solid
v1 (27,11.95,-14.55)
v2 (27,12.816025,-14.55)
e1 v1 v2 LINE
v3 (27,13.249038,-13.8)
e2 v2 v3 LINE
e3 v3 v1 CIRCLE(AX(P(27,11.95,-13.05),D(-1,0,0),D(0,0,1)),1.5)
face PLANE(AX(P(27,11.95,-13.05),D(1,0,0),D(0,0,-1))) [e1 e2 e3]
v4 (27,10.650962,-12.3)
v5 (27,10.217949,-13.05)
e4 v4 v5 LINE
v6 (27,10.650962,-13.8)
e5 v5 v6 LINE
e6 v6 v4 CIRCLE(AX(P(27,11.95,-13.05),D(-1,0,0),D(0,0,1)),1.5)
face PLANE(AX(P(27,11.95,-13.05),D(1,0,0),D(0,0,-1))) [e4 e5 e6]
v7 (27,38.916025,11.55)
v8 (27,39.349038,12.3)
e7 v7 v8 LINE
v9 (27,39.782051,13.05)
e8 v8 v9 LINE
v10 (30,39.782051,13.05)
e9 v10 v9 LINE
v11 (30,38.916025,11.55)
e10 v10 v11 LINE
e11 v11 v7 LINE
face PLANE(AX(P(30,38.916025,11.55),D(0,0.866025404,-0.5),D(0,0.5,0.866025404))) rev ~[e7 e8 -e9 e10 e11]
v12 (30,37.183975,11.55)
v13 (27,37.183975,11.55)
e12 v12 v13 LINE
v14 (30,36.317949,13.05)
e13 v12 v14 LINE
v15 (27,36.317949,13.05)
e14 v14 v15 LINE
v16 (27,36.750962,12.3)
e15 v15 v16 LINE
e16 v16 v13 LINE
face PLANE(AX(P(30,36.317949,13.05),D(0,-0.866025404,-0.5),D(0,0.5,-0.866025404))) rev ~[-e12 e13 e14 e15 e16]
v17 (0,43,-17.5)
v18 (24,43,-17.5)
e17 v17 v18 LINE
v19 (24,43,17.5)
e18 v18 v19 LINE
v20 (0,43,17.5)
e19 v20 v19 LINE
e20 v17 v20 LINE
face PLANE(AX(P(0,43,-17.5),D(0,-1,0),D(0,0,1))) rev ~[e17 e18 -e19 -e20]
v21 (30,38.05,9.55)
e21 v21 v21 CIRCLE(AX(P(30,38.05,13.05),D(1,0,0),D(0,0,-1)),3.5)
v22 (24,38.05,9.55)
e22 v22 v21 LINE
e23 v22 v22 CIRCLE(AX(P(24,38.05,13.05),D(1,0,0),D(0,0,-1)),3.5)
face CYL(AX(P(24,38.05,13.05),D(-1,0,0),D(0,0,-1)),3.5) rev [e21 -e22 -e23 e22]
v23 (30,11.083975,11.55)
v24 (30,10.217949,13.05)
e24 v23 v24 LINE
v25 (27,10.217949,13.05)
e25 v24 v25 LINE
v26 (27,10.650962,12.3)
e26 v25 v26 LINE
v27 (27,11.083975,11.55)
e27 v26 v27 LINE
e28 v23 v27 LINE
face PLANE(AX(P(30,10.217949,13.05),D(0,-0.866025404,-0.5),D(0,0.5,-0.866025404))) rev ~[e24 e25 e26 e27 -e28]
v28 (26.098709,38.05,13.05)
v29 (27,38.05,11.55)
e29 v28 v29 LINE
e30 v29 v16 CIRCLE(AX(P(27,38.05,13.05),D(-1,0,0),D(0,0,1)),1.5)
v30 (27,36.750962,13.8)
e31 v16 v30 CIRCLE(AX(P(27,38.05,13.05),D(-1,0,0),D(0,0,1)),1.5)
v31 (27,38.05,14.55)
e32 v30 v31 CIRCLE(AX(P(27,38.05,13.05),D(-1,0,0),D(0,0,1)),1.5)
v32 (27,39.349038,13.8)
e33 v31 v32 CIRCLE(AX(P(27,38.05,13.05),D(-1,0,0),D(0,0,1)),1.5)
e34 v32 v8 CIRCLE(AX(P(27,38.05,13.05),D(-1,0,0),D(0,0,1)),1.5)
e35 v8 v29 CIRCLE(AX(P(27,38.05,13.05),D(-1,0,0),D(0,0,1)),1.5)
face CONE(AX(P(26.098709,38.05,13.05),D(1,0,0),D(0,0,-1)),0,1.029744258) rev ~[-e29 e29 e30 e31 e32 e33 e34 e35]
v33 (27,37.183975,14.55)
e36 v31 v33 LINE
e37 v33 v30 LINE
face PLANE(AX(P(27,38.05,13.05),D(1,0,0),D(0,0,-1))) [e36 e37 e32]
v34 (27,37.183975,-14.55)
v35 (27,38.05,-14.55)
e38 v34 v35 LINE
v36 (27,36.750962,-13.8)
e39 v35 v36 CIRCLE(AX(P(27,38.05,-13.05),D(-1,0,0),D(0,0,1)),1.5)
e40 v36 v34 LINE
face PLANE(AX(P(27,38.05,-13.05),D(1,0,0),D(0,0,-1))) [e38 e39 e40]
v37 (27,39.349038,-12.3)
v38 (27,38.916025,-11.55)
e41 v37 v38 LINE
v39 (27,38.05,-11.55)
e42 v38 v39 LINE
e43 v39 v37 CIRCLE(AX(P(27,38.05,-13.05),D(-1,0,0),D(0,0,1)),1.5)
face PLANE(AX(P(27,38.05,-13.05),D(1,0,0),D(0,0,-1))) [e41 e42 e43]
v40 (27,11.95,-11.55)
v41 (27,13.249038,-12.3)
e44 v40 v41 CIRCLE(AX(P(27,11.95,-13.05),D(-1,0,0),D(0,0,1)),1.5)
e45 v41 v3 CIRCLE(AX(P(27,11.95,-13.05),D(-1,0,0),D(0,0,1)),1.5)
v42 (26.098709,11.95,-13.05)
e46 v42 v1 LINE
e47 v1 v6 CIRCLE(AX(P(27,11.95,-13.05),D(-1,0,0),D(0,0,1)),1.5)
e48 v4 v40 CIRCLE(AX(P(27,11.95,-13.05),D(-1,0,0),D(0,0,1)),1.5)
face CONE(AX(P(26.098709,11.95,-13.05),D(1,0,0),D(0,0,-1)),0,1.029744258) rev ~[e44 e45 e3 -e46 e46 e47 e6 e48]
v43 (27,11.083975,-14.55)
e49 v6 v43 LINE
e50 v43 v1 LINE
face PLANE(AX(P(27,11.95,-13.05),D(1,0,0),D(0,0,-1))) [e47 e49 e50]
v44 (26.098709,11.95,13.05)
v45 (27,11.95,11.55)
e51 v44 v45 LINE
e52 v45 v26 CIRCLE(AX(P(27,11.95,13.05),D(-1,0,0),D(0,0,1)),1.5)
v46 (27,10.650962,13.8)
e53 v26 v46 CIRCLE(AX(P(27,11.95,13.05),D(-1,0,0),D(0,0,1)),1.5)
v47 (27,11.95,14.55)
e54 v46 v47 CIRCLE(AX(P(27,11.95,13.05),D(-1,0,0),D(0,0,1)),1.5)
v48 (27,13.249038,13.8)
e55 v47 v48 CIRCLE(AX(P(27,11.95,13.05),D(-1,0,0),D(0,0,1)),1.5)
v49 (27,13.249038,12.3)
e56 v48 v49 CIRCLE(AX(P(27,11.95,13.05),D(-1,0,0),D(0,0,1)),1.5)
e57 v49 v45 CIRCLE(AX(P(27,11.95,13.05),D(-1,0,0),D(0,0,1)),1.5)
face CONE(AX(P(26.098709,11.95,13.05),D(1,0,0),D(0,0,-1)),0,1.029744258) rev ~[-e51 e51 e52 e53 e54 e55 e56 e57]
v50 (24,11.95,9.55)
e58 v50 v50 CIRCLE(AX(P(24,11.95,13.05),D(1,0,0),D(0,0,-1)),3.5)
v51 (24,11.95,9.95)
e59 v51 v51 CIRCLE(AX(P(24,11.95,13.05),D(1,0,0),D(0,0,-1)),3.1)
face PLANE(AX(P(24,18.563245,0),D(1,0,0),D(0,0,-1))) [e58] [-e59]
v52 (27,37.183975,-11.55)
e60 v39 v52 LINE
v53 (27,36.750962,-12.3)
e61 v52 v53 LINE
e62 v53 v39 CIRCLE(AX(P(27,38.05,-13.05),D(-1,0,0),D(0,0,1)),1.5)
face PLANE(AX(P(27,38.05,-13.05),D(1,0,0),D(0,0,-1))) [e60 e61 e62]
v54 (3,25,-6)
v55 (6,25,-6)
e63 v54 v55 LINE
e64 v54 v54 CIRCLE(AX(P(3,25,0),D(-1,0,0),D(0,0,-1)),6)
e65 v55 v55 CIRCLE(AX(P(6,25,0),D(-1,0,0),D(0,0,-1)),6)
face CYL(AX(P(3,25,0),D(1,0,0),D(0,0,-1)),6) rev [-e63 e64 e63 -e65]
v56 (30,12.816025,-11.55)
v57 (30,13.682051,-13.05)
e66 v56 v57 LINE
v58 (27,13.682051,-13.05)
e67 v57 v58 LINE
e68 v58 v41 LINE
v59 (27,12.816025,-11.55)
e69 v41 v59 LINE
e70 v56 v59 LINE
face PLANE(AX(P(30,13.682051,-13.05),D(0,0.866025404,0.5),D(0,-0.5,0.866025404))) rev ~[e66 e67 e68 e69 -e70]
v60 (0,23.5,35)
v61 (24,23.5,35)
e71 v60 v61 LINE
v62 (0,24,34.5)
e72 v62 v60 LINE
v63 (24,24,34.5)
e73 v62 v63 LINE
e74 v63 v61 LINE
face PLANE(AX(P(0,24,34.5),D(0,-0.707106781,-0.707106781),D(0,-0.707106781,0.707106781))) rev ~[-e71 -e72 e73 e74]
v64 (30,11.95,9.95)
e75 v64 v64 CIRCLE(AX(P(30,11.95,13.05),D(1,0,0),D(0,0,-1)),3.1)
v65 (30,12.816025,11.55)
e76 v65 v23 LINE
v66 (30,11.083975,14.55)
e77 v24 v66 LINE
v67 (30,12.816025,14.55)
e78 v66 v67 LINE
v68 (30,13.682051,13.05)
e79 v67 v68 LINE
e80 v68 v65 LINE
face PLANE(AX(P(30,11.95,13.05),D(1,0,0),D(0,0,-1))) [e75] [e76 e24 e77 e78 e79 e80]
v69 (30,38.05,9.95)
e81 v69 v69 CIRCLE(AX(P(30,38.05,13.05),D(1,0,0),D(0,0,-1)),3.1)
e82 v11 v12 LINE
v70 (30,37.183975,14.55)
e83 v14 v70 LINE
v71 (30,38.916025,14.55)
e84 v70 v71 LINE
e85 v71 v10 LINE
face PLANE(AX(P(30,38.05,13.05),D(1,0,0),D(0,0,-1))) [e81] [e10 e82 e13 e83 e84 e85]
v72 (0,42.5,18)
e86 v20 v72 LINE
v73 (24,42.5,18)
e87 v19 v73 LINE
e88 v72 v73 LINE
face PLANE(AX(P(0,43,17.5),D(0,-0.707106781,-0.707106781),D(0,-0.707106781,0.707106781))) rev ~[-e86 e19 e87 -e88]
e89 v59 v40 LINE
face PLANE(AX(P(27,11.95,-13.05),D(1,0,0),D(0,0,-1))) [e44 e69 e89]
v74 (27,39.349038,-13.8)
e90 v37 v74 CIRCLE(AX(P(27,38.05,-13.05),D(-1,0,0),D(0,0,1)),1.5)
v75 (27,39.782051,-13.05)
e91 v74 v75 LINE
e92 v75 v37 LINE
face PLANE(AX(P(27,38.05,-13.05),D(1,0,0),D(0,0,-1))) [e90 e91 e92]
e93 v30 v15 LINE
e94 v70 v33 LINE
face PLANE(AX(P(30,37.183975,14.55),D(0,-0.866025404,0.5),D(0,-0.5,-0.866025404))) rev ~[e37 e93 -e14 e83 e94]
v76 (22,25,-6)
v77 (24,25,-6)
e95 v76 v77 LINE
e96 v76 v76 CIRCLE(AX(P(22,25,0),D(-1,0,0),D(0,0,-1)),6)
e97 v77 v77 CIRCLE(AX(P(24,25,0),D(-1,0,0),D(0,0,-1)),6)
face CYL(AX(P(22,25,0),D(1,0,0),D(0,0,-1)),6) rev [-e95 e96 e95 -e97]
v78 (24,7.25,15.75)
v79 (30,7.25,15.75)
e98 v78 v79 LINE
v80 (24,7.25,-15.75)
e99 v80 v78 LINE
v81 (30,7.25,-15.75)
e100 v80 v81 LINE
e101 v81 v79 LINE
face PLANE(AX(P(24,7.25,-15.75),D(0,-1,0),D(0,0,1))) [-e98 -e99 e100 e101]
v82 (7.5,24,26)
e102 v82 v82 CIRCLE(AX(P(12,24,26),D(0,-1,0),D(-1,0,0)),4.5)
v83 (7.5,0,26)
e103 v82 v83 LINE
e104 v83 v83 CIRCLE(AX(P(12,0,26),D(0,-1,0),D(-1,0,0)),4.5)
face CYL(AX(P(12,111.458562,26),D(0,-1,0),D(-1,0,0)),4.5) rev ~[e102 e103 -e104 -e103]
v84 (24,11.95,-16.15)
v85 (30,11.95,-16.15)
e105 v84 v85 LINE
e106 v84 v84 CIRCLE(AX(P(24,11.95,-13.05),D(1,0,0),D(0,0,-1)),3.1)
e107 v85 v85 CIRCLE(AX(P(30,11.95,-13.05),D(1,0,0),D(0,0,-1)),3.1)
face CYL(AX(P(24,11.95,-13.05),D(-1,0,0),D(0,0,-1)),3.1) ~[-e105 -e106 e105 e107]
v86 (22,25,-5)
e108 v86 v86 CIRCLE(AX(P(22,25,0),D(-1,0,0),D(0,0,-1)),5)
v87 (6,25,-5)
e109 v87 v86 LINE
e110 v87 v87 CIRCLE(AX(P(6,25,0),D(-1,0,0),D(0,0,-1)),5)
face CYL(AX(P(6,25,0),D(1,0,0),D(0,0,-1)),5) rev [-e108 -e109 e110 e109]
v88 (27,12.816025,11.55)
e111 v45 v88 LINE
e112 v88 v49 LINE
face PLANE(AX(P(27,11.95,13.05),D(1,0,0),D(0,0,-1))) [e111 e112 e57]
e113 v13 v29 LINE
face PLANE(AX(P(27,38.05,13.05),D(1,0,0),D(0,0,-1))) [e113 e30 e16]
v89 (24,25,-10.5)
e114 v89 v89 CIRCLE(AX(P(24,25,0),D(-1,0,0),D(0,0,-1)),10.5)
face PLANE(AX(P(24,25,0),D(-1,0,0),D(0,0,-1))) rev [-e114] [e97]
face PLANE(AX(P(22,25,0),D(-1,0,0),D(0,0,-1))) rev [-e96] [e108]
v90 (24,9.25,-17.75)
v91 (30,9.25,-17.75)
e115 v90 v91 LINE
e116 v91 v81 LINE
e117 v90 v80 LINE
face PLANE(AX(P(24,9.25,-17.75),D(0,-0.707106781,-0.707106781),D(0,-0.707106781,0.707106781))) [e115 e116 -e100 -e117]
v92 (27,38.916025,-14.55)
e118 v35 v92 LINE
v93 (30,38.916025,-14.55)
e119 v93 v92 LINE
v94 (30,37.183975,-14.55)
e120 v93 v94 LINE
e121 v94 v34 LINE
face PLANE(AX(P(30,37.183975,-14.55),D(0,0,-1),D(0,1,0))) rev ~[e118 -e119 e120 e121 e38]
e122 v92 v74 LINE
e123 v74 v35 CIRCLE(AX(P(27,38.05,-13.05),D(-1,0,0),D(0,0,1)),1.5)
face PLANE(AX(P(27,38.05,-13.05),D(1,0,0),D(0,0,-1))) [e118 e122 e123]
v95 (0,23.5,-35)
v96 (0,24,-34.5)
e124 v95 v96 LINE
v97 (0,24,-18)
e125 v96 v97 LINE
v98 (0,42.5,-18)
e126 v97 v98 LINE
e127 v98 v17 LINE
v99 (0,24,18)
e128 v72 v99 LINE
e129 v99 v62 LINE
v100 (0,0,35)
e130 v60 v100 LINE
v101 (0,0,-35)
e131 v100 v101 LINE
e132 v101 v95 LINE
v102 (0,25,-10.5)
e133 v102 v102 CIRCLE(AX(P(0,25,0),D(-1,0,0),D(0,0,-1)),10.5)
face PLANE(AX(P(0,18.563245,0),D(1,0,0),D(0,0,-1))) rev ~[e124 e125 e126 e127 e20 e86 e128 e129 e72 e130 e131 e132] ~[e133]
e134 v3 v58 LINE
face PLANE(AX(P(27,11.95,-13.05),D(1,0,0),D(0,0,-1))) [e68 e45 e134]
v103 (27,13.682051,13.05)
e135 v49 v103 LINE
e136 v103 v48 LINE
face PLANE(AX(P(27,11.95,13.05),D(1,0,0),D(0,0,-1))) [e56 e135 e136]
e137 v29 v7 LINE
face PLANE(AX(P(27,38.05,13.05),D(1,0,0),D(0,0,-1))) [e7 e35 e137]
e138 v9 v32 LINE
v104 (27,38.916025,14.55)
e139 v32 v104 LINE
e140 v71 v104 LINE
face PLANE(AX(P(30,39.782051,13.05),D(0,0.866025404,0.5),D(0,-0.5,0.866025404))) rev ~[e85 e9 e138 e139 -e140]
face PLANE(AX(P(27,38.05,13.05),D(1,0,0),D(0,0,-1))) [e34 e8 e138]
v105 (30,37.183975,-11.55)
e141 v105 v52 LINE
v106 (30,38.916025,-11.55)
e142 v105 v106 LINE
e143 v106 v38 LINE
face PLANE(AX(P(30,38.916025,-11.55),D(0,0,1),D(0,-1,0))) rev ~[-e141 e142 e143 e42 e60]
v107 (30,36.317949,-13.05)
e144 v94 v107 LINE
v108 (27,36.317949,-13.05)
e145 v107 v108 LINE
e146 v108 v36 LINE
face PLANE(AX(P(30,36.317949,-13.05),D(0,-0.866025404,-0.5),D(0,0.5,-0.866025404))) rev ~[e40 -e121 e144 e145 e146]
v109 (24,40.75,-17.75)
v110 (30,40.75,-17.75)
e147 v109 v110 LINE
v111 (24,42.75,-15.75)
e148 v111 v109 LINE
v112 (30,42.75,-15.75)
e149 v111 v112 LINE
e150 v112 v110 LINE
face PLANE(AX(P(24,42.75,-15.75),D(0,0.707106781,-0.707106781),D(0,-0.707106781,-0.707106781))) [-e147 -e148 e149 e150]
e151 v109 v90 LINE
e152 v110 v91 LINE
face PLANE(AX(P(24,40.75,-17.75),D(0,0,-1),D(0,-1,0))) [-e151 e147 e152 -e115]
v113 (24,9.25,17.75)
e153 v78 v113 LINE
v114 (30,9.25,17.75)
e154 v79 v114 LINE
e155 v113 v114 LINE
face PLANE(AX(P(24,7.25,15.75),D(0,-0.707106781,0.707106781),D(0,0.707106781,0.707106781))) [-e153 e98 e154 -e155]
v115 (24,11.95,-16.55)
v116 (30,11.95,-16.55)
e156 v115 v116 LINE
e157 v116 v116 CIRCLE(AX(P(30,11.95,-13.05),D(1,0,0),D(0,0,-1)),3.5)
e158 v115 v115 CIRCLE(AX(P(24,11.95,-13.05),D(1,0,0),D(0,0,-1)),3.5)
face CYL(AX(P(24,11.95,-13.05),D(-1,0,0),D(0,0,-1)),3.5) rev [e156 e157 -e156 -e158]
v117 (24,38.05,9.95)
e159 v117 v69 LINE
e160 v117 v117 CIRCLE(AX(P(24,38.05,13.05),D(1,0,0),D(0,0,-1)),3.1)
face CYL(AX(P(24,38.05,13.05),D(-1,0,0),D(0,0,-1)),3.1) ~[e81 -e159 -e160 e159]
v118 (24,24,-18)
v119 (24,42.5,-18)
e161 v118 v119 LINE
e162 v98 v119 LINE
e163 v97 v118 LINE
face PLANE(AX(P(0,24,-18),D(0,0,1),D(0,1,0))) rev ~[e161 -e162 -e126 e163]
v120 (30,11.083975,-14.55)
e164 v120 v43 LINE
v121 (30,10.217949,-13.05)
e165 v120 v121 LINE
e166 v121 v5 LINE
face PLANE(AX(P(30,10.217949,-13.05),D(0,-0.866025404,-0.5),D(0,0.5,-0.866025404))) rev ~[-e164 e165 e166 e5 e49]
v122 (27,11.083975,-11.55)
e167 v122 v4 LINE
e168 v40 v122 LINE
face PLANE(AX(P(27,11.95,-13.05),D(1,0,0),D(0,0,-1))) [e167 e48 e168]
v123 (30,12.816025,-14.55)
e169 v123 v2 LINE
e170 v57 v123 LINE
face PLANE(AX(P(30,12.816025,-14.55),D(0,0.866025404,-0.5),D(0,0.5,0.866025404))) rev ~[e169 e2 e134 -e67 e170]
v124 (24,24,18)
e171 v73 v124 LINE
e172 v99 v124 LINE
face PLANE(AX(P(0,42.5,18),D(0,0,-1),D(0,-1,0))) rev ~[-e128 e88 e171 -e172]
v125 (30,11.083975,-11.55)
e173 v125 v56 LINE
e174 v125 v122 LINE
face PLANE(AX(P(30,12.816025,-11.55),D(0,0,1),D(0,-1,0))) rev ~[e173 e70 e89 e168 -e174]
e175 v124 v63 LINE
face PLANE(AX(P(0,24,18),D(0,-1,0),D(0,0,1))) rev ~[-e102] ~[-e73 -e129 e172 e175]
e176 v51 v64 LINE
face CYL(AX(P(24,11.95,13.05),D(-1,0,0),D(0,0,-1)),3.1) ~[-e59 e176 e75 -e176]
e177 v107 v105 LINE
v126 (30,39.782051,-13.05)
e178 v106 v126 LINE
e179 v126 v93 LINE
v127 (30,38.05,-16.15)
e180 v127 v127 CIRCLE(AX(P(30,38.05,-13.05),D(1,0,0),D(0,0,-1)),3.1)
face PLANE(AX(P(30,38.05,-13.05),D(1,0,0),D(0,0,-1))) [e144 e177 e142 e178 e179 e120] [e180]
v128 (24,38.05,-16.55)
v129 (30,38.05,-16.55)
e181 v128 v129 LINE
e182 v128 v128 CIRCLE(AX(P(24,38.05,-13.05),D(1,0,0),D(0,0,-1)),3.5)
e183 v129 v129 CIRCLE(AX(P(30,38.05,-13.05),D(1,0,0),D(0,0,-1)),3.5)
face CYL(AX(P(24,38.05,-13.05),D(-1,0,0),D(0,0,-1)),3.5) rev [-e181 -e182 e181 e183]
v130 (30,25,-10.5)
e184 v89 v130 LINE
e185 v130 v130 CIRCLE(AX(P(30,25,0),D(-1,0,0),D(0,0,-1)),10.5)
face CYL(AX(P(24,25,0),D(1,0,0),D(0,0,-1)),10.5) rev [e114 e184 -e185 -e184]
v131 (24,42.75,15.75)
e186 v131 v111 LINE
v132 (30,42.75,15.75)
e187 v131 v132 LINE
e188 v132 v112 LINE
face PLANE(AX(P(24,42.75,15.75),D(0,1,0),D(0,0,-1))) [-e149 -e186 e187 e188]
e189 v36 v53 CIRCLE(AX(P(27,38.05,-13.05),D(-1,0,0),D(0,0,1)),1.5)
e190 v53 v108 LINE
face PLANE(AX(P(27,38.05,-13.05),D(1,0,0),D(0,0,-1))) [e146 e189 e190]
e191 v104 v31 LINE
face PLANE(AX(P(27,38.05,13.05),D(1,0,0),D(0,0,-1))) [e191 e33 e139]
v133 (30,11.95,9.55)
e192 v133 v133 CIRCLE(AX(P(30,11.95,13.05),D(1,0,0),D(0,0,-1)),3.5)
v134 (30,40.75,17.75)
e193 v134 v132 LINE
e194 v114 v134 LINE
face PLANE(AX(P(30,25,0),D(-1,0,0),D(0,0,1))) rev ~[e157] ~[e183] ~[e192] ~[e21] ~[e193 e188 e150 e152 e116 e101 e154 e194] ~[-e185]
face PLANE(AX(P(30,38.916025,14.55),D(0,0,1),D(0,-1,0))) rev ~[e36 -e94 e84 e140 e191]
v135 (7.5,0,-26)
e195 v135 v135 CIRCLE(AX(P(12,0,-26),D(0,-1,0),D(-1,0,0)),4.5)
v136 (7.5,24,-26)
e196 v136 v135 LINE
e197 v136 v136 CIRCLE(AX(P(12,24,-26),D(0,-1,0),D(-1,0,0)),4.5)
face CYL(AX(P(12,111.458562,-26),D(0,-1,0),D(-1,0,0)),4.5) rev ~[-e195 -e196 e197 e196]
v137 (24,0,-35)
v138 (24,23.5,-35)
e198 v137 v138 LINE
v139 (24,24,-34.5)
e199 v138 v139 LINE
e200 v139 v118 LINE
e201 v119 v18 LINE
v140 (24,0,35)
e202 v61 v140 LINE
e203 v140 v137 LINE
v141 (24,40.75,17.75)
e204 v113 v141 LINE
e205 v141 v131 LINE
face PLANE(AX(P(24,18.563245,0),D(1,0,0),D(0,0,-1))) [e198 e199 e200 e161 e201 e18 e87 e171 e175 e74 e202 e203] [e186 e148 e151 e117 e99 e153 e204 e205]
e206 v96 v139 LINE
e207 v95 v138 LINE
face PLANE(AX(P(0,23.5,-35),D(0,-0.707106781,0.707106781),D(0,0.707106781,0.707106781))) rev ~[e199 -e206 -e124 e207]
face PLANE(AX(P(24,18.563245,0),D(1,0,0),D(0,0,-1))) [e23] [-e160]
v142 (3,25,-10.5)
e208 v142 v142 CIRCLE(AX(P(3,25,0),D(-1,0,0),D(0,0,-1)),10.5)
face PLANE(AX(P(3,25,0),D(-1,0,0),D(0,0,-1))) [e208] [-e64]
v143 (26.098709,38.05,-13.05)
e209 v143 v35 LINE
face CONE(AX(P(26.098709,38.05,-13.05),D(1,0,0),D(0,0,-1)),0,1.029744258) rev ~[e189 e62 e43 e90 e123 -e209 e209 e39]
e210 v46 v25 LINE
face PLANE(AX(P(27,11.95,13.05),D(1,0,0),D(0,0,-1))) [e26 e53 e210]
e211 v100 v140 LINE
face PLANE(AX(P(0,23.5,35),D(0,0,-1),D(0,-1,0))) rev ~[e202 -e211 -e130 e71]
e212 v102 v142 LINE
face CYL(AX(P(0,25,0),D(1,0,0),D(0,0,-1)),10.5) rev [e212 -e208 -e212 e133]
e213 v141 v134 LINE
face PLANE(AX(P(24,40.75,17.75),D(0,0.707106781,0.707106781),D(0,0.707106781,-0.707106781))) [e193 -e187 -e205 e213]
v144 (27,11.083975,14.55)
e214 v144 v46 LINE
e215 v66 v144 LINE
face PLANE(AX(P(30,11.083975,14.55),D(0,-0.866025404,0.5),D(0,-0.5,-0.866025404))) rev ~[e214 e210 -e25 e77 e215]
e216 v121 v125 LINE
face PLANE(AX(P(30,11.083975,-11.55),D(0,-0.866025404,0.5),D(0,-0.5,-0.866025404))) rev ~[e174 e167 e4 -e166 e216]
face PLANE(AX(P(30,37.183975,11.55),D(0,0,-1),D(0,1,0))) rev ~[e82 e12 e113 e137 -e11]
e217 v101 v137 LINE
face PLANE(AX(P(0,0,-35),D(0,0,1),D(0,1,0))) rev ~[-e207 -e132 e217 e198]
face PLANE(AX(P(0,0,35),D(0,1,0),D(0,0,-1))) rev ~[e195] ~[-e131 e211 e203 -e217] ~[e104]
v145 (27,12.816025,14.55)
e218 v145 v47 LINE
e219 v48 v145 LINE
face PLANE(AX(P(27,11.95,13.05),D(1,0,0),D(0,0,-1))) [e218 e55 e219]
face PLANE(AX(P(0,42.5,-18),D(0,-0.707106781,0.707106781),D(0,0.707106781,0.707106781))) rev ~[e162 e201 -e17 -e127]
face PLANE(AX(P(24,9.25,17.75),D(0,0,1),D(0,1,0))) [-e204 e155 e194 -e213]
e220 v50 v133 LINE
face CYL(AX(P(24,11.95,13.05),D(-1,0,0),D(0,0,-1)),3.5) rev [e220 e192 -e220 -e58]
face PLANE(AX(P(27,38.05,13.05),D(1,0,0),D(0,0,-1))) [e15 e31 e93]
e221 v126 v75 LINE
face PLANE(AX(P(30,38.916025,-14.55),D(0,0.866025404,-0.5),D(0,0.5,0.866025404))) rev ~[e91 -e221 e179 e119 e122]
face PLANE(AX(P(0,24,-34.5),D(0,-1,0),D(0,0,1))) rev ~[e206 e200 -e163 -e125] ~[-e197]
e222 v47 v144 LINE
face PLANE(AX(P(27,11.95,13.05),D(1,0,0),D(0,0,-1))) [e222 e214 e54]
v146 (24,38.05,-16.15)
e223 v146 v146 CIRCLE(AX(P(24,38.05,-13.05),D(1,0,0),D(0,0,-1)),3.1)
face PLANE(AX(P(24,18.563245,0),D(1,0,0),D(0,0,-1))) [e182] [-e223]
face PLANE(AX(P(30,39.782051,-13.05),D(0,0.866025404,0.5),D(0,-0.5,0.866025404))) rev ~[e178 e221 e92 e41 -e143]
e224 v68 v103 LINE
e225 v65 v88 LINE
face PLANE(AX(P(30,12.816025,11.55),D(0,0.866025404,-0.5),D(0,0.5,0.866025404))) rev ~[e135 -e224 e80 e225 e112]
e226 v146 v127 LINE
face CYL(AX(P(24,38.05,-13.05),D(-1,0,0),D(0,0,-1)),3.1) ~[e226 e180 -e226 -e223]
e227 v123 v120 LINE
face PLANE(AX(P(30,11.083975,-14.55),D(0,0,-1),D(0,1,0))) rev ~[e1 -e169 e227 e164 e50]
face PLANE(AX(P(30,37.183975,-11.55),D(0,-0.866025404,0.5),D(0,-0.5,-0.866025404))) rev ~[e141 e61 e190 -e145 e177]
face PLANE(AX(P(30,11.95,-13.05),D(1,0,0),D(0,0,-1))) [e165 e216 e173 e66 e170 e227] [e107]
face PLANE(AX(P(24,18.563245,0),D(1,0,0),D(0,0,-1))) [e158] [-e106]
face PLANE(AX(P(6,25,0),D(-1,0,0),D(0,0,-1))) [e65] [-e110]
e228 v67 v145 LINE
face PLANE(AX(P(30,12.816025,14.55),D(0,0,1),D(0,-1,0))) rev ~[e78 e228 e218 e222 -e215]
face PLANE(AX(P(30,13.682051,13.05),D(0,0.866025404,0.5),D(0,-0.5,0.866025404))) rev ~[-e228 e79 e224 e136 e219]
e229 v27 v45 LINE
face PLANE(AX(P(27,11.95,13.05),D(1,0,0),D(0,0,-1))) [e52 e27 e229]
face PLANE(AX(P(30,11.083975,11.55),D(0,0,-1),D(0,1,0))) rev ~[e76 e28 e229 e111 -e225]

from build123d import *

# Parameters (mm, degrees)
BOSS_EXTRUDE1_DEPTH = 24
SKETCH4_R           = 3.5
BOSS_EXTRUDE2_DEPTH = 6
SKETCH5_R           = 3.1
BOSS_EXTRUDE3_DEPTH = 6
DIAMETERHOLE1_D     = 3
DIAMETERHOLE1_DEPTH = 3
DIAMETERHOLE1_TIP   = 0.901290929
CUT_EXTRUDE1_DEPTH  = 3
DIAMETERHOLE3_D     = 9


with BuildPart() as part:
    # Sketch1 → Boss-Extrude1 (new body)
    with BuildSketch(Plane(origin=(0, 0, 0), x_dir=(0, 0, -1), z_dir=(1, 0, 0))):
        Polygon((-18, 42.5), (-18, 24), (-34.5, 24), (-35, 23.5), (-35, 0), (35, 0), (35, 23.5), (34.5, 24), (18, 24), (18, 42.5), (17.5, 43), (-17.5, 43), align=None)
    extrude(amount=BOSS_EXTRUDE1_DEPTH)

    # Sketch4 → Boss-Extrude2 (add)
    with BuildSketch(Plane(origin=(24, 0, 0), x_dir=(0, 0, -1), z_dir=(1, 0, 0))):
        Polygon((-17.75, 40.75), (-15.75, 42.75), (15.75, 42.75), (17.75, 40.75), (17.75, 9.25), (15.75, 7.25), (-15.75, 7.25), (-17.75, 9.25), align=None)
        with Locations((-13.05, 38.05)):
            Circle(SKETCH4_R, mode=Mode.SUBTRACT)
        with Locations((13.05, 38.05)):
            Circle(SKETCH4_R, mode=Mode.SUBTRACT)
        with Locations((-13.05, 11.95)):
            Circle(SKETCH4_R, mode=Mode.SUBTRACT)
        with Locations((13.05, 11.95)):
            Circle(SKETCH4_R, mode=Mode.SUBTRACT)
    extrude(amount=BOSS_EXTRUDE2_DEPTH)

    # Sketch5 → Boss-Extrude3 (add)
    with BuildSketch(Plane(origin=(24, 0, 0), x_dir=(0, 0, -1), z_dir=(1, 0, 0))):
        with Locations((-13.05, 38.05)):
            Circle(SKETCH5_R)
        with Locations((13.05, 38.05)):
            Circle(SKETCH5_R)
        with Locations((13.05, 11.95)):
            Circle(SKETCH5_R)
        with Locations((-13.05, 11.95)):
            Circle(SKETCH5_R)
    extrude(amount=BOSS_EXTRUDE3_DEPTH)

    # DiameterHole1
    with Locations(Plane(origin=(30, 0, 0), x_dir=(0, 0, -1), z_dir=(1, 0, 0))):
        with Locations((-13.05, 38.05), (13.05, 38.05), (-13.05, 11.95), (13.05, 11.95)):
            Hole(DIAMETERHOLE1_D / 2, depth=DIAMETERHOLE1_DEPTH)
            with Locations((0, 0, -(DIAMETERHOLE1_DEPTH + DIAMETERHOLE1_TIP / 2))):  # 118° drill point
                Cone(0, DIAMETERHOLE1_D / 2, DIAMETERHOLE1_TIP, mode=Mode.SUBTRACT)

    # Sketch8 → Cut-Extrude1 (cut)
    with BuildSketch(Plane(origin=(30, 0, 0), x_dir=(0, 0, -1), z_dir=(1, 0, 0))):
        Polygon((-13.05, 36.317949192), (-11.55, 37.183974596), (-11.55, 38.916025404), (-13.05, 39.782050808), (-14.55, 38.916025404), (-14.55, 37.183974596), align=None)
        Polygon((14.55, 37.183974596), (14.55, 38.916025404), (13.05, 39.782050808), (11.55, 38.916025404), (11.55, 37.183974596), (13.05, 36.317949192), align=None)
        Polygon((-11.55, 11.083974596), (-11.55, 12.816025404), (-13.05, 13.682050808), (-14.55, 12.816025404), (-14.55, 11.083974596), (-13.05, 10.217949192), align=None)
        Polygon((14.55, 11.083974596), (14.55, 12.816025404), (13.05, 13.682050808), (11.55, 12.816025404), (11.55, 11.083974596), (13.05, 10.217949192), align=None)
    extrude(amount=-CUT_EXTRUDE1_DEPTH, mode=Mode.SUBTRACT)

    # Sketch9 → Cut-Revolve1 (revolve, cut)
    with BuildSketch(Plane.XY):
        Polygon((0, 35.5), (3, 35.5), (3, 31), (6, 31), (6, 30), (22, 30), (22, 31), (24, 31), (24, 35.5), (30, 35.5), (30, 25), (0, 25), align=None)
    revolve(axis=Axis((30, 25, 0), (-1, 0, 0)), mode=Mode.SUBTRACT)

    # DiameterHole3 (through all)
    with Locations(Plane(origin=(0, 24, 0), x_dir=(1, 0, 0), z_dir=(0, 1, 0))):
        with Locations((12, -26), (12, 26)):
            Hole(DIAMETERHOLE3_D / 2)


solid = part.part
